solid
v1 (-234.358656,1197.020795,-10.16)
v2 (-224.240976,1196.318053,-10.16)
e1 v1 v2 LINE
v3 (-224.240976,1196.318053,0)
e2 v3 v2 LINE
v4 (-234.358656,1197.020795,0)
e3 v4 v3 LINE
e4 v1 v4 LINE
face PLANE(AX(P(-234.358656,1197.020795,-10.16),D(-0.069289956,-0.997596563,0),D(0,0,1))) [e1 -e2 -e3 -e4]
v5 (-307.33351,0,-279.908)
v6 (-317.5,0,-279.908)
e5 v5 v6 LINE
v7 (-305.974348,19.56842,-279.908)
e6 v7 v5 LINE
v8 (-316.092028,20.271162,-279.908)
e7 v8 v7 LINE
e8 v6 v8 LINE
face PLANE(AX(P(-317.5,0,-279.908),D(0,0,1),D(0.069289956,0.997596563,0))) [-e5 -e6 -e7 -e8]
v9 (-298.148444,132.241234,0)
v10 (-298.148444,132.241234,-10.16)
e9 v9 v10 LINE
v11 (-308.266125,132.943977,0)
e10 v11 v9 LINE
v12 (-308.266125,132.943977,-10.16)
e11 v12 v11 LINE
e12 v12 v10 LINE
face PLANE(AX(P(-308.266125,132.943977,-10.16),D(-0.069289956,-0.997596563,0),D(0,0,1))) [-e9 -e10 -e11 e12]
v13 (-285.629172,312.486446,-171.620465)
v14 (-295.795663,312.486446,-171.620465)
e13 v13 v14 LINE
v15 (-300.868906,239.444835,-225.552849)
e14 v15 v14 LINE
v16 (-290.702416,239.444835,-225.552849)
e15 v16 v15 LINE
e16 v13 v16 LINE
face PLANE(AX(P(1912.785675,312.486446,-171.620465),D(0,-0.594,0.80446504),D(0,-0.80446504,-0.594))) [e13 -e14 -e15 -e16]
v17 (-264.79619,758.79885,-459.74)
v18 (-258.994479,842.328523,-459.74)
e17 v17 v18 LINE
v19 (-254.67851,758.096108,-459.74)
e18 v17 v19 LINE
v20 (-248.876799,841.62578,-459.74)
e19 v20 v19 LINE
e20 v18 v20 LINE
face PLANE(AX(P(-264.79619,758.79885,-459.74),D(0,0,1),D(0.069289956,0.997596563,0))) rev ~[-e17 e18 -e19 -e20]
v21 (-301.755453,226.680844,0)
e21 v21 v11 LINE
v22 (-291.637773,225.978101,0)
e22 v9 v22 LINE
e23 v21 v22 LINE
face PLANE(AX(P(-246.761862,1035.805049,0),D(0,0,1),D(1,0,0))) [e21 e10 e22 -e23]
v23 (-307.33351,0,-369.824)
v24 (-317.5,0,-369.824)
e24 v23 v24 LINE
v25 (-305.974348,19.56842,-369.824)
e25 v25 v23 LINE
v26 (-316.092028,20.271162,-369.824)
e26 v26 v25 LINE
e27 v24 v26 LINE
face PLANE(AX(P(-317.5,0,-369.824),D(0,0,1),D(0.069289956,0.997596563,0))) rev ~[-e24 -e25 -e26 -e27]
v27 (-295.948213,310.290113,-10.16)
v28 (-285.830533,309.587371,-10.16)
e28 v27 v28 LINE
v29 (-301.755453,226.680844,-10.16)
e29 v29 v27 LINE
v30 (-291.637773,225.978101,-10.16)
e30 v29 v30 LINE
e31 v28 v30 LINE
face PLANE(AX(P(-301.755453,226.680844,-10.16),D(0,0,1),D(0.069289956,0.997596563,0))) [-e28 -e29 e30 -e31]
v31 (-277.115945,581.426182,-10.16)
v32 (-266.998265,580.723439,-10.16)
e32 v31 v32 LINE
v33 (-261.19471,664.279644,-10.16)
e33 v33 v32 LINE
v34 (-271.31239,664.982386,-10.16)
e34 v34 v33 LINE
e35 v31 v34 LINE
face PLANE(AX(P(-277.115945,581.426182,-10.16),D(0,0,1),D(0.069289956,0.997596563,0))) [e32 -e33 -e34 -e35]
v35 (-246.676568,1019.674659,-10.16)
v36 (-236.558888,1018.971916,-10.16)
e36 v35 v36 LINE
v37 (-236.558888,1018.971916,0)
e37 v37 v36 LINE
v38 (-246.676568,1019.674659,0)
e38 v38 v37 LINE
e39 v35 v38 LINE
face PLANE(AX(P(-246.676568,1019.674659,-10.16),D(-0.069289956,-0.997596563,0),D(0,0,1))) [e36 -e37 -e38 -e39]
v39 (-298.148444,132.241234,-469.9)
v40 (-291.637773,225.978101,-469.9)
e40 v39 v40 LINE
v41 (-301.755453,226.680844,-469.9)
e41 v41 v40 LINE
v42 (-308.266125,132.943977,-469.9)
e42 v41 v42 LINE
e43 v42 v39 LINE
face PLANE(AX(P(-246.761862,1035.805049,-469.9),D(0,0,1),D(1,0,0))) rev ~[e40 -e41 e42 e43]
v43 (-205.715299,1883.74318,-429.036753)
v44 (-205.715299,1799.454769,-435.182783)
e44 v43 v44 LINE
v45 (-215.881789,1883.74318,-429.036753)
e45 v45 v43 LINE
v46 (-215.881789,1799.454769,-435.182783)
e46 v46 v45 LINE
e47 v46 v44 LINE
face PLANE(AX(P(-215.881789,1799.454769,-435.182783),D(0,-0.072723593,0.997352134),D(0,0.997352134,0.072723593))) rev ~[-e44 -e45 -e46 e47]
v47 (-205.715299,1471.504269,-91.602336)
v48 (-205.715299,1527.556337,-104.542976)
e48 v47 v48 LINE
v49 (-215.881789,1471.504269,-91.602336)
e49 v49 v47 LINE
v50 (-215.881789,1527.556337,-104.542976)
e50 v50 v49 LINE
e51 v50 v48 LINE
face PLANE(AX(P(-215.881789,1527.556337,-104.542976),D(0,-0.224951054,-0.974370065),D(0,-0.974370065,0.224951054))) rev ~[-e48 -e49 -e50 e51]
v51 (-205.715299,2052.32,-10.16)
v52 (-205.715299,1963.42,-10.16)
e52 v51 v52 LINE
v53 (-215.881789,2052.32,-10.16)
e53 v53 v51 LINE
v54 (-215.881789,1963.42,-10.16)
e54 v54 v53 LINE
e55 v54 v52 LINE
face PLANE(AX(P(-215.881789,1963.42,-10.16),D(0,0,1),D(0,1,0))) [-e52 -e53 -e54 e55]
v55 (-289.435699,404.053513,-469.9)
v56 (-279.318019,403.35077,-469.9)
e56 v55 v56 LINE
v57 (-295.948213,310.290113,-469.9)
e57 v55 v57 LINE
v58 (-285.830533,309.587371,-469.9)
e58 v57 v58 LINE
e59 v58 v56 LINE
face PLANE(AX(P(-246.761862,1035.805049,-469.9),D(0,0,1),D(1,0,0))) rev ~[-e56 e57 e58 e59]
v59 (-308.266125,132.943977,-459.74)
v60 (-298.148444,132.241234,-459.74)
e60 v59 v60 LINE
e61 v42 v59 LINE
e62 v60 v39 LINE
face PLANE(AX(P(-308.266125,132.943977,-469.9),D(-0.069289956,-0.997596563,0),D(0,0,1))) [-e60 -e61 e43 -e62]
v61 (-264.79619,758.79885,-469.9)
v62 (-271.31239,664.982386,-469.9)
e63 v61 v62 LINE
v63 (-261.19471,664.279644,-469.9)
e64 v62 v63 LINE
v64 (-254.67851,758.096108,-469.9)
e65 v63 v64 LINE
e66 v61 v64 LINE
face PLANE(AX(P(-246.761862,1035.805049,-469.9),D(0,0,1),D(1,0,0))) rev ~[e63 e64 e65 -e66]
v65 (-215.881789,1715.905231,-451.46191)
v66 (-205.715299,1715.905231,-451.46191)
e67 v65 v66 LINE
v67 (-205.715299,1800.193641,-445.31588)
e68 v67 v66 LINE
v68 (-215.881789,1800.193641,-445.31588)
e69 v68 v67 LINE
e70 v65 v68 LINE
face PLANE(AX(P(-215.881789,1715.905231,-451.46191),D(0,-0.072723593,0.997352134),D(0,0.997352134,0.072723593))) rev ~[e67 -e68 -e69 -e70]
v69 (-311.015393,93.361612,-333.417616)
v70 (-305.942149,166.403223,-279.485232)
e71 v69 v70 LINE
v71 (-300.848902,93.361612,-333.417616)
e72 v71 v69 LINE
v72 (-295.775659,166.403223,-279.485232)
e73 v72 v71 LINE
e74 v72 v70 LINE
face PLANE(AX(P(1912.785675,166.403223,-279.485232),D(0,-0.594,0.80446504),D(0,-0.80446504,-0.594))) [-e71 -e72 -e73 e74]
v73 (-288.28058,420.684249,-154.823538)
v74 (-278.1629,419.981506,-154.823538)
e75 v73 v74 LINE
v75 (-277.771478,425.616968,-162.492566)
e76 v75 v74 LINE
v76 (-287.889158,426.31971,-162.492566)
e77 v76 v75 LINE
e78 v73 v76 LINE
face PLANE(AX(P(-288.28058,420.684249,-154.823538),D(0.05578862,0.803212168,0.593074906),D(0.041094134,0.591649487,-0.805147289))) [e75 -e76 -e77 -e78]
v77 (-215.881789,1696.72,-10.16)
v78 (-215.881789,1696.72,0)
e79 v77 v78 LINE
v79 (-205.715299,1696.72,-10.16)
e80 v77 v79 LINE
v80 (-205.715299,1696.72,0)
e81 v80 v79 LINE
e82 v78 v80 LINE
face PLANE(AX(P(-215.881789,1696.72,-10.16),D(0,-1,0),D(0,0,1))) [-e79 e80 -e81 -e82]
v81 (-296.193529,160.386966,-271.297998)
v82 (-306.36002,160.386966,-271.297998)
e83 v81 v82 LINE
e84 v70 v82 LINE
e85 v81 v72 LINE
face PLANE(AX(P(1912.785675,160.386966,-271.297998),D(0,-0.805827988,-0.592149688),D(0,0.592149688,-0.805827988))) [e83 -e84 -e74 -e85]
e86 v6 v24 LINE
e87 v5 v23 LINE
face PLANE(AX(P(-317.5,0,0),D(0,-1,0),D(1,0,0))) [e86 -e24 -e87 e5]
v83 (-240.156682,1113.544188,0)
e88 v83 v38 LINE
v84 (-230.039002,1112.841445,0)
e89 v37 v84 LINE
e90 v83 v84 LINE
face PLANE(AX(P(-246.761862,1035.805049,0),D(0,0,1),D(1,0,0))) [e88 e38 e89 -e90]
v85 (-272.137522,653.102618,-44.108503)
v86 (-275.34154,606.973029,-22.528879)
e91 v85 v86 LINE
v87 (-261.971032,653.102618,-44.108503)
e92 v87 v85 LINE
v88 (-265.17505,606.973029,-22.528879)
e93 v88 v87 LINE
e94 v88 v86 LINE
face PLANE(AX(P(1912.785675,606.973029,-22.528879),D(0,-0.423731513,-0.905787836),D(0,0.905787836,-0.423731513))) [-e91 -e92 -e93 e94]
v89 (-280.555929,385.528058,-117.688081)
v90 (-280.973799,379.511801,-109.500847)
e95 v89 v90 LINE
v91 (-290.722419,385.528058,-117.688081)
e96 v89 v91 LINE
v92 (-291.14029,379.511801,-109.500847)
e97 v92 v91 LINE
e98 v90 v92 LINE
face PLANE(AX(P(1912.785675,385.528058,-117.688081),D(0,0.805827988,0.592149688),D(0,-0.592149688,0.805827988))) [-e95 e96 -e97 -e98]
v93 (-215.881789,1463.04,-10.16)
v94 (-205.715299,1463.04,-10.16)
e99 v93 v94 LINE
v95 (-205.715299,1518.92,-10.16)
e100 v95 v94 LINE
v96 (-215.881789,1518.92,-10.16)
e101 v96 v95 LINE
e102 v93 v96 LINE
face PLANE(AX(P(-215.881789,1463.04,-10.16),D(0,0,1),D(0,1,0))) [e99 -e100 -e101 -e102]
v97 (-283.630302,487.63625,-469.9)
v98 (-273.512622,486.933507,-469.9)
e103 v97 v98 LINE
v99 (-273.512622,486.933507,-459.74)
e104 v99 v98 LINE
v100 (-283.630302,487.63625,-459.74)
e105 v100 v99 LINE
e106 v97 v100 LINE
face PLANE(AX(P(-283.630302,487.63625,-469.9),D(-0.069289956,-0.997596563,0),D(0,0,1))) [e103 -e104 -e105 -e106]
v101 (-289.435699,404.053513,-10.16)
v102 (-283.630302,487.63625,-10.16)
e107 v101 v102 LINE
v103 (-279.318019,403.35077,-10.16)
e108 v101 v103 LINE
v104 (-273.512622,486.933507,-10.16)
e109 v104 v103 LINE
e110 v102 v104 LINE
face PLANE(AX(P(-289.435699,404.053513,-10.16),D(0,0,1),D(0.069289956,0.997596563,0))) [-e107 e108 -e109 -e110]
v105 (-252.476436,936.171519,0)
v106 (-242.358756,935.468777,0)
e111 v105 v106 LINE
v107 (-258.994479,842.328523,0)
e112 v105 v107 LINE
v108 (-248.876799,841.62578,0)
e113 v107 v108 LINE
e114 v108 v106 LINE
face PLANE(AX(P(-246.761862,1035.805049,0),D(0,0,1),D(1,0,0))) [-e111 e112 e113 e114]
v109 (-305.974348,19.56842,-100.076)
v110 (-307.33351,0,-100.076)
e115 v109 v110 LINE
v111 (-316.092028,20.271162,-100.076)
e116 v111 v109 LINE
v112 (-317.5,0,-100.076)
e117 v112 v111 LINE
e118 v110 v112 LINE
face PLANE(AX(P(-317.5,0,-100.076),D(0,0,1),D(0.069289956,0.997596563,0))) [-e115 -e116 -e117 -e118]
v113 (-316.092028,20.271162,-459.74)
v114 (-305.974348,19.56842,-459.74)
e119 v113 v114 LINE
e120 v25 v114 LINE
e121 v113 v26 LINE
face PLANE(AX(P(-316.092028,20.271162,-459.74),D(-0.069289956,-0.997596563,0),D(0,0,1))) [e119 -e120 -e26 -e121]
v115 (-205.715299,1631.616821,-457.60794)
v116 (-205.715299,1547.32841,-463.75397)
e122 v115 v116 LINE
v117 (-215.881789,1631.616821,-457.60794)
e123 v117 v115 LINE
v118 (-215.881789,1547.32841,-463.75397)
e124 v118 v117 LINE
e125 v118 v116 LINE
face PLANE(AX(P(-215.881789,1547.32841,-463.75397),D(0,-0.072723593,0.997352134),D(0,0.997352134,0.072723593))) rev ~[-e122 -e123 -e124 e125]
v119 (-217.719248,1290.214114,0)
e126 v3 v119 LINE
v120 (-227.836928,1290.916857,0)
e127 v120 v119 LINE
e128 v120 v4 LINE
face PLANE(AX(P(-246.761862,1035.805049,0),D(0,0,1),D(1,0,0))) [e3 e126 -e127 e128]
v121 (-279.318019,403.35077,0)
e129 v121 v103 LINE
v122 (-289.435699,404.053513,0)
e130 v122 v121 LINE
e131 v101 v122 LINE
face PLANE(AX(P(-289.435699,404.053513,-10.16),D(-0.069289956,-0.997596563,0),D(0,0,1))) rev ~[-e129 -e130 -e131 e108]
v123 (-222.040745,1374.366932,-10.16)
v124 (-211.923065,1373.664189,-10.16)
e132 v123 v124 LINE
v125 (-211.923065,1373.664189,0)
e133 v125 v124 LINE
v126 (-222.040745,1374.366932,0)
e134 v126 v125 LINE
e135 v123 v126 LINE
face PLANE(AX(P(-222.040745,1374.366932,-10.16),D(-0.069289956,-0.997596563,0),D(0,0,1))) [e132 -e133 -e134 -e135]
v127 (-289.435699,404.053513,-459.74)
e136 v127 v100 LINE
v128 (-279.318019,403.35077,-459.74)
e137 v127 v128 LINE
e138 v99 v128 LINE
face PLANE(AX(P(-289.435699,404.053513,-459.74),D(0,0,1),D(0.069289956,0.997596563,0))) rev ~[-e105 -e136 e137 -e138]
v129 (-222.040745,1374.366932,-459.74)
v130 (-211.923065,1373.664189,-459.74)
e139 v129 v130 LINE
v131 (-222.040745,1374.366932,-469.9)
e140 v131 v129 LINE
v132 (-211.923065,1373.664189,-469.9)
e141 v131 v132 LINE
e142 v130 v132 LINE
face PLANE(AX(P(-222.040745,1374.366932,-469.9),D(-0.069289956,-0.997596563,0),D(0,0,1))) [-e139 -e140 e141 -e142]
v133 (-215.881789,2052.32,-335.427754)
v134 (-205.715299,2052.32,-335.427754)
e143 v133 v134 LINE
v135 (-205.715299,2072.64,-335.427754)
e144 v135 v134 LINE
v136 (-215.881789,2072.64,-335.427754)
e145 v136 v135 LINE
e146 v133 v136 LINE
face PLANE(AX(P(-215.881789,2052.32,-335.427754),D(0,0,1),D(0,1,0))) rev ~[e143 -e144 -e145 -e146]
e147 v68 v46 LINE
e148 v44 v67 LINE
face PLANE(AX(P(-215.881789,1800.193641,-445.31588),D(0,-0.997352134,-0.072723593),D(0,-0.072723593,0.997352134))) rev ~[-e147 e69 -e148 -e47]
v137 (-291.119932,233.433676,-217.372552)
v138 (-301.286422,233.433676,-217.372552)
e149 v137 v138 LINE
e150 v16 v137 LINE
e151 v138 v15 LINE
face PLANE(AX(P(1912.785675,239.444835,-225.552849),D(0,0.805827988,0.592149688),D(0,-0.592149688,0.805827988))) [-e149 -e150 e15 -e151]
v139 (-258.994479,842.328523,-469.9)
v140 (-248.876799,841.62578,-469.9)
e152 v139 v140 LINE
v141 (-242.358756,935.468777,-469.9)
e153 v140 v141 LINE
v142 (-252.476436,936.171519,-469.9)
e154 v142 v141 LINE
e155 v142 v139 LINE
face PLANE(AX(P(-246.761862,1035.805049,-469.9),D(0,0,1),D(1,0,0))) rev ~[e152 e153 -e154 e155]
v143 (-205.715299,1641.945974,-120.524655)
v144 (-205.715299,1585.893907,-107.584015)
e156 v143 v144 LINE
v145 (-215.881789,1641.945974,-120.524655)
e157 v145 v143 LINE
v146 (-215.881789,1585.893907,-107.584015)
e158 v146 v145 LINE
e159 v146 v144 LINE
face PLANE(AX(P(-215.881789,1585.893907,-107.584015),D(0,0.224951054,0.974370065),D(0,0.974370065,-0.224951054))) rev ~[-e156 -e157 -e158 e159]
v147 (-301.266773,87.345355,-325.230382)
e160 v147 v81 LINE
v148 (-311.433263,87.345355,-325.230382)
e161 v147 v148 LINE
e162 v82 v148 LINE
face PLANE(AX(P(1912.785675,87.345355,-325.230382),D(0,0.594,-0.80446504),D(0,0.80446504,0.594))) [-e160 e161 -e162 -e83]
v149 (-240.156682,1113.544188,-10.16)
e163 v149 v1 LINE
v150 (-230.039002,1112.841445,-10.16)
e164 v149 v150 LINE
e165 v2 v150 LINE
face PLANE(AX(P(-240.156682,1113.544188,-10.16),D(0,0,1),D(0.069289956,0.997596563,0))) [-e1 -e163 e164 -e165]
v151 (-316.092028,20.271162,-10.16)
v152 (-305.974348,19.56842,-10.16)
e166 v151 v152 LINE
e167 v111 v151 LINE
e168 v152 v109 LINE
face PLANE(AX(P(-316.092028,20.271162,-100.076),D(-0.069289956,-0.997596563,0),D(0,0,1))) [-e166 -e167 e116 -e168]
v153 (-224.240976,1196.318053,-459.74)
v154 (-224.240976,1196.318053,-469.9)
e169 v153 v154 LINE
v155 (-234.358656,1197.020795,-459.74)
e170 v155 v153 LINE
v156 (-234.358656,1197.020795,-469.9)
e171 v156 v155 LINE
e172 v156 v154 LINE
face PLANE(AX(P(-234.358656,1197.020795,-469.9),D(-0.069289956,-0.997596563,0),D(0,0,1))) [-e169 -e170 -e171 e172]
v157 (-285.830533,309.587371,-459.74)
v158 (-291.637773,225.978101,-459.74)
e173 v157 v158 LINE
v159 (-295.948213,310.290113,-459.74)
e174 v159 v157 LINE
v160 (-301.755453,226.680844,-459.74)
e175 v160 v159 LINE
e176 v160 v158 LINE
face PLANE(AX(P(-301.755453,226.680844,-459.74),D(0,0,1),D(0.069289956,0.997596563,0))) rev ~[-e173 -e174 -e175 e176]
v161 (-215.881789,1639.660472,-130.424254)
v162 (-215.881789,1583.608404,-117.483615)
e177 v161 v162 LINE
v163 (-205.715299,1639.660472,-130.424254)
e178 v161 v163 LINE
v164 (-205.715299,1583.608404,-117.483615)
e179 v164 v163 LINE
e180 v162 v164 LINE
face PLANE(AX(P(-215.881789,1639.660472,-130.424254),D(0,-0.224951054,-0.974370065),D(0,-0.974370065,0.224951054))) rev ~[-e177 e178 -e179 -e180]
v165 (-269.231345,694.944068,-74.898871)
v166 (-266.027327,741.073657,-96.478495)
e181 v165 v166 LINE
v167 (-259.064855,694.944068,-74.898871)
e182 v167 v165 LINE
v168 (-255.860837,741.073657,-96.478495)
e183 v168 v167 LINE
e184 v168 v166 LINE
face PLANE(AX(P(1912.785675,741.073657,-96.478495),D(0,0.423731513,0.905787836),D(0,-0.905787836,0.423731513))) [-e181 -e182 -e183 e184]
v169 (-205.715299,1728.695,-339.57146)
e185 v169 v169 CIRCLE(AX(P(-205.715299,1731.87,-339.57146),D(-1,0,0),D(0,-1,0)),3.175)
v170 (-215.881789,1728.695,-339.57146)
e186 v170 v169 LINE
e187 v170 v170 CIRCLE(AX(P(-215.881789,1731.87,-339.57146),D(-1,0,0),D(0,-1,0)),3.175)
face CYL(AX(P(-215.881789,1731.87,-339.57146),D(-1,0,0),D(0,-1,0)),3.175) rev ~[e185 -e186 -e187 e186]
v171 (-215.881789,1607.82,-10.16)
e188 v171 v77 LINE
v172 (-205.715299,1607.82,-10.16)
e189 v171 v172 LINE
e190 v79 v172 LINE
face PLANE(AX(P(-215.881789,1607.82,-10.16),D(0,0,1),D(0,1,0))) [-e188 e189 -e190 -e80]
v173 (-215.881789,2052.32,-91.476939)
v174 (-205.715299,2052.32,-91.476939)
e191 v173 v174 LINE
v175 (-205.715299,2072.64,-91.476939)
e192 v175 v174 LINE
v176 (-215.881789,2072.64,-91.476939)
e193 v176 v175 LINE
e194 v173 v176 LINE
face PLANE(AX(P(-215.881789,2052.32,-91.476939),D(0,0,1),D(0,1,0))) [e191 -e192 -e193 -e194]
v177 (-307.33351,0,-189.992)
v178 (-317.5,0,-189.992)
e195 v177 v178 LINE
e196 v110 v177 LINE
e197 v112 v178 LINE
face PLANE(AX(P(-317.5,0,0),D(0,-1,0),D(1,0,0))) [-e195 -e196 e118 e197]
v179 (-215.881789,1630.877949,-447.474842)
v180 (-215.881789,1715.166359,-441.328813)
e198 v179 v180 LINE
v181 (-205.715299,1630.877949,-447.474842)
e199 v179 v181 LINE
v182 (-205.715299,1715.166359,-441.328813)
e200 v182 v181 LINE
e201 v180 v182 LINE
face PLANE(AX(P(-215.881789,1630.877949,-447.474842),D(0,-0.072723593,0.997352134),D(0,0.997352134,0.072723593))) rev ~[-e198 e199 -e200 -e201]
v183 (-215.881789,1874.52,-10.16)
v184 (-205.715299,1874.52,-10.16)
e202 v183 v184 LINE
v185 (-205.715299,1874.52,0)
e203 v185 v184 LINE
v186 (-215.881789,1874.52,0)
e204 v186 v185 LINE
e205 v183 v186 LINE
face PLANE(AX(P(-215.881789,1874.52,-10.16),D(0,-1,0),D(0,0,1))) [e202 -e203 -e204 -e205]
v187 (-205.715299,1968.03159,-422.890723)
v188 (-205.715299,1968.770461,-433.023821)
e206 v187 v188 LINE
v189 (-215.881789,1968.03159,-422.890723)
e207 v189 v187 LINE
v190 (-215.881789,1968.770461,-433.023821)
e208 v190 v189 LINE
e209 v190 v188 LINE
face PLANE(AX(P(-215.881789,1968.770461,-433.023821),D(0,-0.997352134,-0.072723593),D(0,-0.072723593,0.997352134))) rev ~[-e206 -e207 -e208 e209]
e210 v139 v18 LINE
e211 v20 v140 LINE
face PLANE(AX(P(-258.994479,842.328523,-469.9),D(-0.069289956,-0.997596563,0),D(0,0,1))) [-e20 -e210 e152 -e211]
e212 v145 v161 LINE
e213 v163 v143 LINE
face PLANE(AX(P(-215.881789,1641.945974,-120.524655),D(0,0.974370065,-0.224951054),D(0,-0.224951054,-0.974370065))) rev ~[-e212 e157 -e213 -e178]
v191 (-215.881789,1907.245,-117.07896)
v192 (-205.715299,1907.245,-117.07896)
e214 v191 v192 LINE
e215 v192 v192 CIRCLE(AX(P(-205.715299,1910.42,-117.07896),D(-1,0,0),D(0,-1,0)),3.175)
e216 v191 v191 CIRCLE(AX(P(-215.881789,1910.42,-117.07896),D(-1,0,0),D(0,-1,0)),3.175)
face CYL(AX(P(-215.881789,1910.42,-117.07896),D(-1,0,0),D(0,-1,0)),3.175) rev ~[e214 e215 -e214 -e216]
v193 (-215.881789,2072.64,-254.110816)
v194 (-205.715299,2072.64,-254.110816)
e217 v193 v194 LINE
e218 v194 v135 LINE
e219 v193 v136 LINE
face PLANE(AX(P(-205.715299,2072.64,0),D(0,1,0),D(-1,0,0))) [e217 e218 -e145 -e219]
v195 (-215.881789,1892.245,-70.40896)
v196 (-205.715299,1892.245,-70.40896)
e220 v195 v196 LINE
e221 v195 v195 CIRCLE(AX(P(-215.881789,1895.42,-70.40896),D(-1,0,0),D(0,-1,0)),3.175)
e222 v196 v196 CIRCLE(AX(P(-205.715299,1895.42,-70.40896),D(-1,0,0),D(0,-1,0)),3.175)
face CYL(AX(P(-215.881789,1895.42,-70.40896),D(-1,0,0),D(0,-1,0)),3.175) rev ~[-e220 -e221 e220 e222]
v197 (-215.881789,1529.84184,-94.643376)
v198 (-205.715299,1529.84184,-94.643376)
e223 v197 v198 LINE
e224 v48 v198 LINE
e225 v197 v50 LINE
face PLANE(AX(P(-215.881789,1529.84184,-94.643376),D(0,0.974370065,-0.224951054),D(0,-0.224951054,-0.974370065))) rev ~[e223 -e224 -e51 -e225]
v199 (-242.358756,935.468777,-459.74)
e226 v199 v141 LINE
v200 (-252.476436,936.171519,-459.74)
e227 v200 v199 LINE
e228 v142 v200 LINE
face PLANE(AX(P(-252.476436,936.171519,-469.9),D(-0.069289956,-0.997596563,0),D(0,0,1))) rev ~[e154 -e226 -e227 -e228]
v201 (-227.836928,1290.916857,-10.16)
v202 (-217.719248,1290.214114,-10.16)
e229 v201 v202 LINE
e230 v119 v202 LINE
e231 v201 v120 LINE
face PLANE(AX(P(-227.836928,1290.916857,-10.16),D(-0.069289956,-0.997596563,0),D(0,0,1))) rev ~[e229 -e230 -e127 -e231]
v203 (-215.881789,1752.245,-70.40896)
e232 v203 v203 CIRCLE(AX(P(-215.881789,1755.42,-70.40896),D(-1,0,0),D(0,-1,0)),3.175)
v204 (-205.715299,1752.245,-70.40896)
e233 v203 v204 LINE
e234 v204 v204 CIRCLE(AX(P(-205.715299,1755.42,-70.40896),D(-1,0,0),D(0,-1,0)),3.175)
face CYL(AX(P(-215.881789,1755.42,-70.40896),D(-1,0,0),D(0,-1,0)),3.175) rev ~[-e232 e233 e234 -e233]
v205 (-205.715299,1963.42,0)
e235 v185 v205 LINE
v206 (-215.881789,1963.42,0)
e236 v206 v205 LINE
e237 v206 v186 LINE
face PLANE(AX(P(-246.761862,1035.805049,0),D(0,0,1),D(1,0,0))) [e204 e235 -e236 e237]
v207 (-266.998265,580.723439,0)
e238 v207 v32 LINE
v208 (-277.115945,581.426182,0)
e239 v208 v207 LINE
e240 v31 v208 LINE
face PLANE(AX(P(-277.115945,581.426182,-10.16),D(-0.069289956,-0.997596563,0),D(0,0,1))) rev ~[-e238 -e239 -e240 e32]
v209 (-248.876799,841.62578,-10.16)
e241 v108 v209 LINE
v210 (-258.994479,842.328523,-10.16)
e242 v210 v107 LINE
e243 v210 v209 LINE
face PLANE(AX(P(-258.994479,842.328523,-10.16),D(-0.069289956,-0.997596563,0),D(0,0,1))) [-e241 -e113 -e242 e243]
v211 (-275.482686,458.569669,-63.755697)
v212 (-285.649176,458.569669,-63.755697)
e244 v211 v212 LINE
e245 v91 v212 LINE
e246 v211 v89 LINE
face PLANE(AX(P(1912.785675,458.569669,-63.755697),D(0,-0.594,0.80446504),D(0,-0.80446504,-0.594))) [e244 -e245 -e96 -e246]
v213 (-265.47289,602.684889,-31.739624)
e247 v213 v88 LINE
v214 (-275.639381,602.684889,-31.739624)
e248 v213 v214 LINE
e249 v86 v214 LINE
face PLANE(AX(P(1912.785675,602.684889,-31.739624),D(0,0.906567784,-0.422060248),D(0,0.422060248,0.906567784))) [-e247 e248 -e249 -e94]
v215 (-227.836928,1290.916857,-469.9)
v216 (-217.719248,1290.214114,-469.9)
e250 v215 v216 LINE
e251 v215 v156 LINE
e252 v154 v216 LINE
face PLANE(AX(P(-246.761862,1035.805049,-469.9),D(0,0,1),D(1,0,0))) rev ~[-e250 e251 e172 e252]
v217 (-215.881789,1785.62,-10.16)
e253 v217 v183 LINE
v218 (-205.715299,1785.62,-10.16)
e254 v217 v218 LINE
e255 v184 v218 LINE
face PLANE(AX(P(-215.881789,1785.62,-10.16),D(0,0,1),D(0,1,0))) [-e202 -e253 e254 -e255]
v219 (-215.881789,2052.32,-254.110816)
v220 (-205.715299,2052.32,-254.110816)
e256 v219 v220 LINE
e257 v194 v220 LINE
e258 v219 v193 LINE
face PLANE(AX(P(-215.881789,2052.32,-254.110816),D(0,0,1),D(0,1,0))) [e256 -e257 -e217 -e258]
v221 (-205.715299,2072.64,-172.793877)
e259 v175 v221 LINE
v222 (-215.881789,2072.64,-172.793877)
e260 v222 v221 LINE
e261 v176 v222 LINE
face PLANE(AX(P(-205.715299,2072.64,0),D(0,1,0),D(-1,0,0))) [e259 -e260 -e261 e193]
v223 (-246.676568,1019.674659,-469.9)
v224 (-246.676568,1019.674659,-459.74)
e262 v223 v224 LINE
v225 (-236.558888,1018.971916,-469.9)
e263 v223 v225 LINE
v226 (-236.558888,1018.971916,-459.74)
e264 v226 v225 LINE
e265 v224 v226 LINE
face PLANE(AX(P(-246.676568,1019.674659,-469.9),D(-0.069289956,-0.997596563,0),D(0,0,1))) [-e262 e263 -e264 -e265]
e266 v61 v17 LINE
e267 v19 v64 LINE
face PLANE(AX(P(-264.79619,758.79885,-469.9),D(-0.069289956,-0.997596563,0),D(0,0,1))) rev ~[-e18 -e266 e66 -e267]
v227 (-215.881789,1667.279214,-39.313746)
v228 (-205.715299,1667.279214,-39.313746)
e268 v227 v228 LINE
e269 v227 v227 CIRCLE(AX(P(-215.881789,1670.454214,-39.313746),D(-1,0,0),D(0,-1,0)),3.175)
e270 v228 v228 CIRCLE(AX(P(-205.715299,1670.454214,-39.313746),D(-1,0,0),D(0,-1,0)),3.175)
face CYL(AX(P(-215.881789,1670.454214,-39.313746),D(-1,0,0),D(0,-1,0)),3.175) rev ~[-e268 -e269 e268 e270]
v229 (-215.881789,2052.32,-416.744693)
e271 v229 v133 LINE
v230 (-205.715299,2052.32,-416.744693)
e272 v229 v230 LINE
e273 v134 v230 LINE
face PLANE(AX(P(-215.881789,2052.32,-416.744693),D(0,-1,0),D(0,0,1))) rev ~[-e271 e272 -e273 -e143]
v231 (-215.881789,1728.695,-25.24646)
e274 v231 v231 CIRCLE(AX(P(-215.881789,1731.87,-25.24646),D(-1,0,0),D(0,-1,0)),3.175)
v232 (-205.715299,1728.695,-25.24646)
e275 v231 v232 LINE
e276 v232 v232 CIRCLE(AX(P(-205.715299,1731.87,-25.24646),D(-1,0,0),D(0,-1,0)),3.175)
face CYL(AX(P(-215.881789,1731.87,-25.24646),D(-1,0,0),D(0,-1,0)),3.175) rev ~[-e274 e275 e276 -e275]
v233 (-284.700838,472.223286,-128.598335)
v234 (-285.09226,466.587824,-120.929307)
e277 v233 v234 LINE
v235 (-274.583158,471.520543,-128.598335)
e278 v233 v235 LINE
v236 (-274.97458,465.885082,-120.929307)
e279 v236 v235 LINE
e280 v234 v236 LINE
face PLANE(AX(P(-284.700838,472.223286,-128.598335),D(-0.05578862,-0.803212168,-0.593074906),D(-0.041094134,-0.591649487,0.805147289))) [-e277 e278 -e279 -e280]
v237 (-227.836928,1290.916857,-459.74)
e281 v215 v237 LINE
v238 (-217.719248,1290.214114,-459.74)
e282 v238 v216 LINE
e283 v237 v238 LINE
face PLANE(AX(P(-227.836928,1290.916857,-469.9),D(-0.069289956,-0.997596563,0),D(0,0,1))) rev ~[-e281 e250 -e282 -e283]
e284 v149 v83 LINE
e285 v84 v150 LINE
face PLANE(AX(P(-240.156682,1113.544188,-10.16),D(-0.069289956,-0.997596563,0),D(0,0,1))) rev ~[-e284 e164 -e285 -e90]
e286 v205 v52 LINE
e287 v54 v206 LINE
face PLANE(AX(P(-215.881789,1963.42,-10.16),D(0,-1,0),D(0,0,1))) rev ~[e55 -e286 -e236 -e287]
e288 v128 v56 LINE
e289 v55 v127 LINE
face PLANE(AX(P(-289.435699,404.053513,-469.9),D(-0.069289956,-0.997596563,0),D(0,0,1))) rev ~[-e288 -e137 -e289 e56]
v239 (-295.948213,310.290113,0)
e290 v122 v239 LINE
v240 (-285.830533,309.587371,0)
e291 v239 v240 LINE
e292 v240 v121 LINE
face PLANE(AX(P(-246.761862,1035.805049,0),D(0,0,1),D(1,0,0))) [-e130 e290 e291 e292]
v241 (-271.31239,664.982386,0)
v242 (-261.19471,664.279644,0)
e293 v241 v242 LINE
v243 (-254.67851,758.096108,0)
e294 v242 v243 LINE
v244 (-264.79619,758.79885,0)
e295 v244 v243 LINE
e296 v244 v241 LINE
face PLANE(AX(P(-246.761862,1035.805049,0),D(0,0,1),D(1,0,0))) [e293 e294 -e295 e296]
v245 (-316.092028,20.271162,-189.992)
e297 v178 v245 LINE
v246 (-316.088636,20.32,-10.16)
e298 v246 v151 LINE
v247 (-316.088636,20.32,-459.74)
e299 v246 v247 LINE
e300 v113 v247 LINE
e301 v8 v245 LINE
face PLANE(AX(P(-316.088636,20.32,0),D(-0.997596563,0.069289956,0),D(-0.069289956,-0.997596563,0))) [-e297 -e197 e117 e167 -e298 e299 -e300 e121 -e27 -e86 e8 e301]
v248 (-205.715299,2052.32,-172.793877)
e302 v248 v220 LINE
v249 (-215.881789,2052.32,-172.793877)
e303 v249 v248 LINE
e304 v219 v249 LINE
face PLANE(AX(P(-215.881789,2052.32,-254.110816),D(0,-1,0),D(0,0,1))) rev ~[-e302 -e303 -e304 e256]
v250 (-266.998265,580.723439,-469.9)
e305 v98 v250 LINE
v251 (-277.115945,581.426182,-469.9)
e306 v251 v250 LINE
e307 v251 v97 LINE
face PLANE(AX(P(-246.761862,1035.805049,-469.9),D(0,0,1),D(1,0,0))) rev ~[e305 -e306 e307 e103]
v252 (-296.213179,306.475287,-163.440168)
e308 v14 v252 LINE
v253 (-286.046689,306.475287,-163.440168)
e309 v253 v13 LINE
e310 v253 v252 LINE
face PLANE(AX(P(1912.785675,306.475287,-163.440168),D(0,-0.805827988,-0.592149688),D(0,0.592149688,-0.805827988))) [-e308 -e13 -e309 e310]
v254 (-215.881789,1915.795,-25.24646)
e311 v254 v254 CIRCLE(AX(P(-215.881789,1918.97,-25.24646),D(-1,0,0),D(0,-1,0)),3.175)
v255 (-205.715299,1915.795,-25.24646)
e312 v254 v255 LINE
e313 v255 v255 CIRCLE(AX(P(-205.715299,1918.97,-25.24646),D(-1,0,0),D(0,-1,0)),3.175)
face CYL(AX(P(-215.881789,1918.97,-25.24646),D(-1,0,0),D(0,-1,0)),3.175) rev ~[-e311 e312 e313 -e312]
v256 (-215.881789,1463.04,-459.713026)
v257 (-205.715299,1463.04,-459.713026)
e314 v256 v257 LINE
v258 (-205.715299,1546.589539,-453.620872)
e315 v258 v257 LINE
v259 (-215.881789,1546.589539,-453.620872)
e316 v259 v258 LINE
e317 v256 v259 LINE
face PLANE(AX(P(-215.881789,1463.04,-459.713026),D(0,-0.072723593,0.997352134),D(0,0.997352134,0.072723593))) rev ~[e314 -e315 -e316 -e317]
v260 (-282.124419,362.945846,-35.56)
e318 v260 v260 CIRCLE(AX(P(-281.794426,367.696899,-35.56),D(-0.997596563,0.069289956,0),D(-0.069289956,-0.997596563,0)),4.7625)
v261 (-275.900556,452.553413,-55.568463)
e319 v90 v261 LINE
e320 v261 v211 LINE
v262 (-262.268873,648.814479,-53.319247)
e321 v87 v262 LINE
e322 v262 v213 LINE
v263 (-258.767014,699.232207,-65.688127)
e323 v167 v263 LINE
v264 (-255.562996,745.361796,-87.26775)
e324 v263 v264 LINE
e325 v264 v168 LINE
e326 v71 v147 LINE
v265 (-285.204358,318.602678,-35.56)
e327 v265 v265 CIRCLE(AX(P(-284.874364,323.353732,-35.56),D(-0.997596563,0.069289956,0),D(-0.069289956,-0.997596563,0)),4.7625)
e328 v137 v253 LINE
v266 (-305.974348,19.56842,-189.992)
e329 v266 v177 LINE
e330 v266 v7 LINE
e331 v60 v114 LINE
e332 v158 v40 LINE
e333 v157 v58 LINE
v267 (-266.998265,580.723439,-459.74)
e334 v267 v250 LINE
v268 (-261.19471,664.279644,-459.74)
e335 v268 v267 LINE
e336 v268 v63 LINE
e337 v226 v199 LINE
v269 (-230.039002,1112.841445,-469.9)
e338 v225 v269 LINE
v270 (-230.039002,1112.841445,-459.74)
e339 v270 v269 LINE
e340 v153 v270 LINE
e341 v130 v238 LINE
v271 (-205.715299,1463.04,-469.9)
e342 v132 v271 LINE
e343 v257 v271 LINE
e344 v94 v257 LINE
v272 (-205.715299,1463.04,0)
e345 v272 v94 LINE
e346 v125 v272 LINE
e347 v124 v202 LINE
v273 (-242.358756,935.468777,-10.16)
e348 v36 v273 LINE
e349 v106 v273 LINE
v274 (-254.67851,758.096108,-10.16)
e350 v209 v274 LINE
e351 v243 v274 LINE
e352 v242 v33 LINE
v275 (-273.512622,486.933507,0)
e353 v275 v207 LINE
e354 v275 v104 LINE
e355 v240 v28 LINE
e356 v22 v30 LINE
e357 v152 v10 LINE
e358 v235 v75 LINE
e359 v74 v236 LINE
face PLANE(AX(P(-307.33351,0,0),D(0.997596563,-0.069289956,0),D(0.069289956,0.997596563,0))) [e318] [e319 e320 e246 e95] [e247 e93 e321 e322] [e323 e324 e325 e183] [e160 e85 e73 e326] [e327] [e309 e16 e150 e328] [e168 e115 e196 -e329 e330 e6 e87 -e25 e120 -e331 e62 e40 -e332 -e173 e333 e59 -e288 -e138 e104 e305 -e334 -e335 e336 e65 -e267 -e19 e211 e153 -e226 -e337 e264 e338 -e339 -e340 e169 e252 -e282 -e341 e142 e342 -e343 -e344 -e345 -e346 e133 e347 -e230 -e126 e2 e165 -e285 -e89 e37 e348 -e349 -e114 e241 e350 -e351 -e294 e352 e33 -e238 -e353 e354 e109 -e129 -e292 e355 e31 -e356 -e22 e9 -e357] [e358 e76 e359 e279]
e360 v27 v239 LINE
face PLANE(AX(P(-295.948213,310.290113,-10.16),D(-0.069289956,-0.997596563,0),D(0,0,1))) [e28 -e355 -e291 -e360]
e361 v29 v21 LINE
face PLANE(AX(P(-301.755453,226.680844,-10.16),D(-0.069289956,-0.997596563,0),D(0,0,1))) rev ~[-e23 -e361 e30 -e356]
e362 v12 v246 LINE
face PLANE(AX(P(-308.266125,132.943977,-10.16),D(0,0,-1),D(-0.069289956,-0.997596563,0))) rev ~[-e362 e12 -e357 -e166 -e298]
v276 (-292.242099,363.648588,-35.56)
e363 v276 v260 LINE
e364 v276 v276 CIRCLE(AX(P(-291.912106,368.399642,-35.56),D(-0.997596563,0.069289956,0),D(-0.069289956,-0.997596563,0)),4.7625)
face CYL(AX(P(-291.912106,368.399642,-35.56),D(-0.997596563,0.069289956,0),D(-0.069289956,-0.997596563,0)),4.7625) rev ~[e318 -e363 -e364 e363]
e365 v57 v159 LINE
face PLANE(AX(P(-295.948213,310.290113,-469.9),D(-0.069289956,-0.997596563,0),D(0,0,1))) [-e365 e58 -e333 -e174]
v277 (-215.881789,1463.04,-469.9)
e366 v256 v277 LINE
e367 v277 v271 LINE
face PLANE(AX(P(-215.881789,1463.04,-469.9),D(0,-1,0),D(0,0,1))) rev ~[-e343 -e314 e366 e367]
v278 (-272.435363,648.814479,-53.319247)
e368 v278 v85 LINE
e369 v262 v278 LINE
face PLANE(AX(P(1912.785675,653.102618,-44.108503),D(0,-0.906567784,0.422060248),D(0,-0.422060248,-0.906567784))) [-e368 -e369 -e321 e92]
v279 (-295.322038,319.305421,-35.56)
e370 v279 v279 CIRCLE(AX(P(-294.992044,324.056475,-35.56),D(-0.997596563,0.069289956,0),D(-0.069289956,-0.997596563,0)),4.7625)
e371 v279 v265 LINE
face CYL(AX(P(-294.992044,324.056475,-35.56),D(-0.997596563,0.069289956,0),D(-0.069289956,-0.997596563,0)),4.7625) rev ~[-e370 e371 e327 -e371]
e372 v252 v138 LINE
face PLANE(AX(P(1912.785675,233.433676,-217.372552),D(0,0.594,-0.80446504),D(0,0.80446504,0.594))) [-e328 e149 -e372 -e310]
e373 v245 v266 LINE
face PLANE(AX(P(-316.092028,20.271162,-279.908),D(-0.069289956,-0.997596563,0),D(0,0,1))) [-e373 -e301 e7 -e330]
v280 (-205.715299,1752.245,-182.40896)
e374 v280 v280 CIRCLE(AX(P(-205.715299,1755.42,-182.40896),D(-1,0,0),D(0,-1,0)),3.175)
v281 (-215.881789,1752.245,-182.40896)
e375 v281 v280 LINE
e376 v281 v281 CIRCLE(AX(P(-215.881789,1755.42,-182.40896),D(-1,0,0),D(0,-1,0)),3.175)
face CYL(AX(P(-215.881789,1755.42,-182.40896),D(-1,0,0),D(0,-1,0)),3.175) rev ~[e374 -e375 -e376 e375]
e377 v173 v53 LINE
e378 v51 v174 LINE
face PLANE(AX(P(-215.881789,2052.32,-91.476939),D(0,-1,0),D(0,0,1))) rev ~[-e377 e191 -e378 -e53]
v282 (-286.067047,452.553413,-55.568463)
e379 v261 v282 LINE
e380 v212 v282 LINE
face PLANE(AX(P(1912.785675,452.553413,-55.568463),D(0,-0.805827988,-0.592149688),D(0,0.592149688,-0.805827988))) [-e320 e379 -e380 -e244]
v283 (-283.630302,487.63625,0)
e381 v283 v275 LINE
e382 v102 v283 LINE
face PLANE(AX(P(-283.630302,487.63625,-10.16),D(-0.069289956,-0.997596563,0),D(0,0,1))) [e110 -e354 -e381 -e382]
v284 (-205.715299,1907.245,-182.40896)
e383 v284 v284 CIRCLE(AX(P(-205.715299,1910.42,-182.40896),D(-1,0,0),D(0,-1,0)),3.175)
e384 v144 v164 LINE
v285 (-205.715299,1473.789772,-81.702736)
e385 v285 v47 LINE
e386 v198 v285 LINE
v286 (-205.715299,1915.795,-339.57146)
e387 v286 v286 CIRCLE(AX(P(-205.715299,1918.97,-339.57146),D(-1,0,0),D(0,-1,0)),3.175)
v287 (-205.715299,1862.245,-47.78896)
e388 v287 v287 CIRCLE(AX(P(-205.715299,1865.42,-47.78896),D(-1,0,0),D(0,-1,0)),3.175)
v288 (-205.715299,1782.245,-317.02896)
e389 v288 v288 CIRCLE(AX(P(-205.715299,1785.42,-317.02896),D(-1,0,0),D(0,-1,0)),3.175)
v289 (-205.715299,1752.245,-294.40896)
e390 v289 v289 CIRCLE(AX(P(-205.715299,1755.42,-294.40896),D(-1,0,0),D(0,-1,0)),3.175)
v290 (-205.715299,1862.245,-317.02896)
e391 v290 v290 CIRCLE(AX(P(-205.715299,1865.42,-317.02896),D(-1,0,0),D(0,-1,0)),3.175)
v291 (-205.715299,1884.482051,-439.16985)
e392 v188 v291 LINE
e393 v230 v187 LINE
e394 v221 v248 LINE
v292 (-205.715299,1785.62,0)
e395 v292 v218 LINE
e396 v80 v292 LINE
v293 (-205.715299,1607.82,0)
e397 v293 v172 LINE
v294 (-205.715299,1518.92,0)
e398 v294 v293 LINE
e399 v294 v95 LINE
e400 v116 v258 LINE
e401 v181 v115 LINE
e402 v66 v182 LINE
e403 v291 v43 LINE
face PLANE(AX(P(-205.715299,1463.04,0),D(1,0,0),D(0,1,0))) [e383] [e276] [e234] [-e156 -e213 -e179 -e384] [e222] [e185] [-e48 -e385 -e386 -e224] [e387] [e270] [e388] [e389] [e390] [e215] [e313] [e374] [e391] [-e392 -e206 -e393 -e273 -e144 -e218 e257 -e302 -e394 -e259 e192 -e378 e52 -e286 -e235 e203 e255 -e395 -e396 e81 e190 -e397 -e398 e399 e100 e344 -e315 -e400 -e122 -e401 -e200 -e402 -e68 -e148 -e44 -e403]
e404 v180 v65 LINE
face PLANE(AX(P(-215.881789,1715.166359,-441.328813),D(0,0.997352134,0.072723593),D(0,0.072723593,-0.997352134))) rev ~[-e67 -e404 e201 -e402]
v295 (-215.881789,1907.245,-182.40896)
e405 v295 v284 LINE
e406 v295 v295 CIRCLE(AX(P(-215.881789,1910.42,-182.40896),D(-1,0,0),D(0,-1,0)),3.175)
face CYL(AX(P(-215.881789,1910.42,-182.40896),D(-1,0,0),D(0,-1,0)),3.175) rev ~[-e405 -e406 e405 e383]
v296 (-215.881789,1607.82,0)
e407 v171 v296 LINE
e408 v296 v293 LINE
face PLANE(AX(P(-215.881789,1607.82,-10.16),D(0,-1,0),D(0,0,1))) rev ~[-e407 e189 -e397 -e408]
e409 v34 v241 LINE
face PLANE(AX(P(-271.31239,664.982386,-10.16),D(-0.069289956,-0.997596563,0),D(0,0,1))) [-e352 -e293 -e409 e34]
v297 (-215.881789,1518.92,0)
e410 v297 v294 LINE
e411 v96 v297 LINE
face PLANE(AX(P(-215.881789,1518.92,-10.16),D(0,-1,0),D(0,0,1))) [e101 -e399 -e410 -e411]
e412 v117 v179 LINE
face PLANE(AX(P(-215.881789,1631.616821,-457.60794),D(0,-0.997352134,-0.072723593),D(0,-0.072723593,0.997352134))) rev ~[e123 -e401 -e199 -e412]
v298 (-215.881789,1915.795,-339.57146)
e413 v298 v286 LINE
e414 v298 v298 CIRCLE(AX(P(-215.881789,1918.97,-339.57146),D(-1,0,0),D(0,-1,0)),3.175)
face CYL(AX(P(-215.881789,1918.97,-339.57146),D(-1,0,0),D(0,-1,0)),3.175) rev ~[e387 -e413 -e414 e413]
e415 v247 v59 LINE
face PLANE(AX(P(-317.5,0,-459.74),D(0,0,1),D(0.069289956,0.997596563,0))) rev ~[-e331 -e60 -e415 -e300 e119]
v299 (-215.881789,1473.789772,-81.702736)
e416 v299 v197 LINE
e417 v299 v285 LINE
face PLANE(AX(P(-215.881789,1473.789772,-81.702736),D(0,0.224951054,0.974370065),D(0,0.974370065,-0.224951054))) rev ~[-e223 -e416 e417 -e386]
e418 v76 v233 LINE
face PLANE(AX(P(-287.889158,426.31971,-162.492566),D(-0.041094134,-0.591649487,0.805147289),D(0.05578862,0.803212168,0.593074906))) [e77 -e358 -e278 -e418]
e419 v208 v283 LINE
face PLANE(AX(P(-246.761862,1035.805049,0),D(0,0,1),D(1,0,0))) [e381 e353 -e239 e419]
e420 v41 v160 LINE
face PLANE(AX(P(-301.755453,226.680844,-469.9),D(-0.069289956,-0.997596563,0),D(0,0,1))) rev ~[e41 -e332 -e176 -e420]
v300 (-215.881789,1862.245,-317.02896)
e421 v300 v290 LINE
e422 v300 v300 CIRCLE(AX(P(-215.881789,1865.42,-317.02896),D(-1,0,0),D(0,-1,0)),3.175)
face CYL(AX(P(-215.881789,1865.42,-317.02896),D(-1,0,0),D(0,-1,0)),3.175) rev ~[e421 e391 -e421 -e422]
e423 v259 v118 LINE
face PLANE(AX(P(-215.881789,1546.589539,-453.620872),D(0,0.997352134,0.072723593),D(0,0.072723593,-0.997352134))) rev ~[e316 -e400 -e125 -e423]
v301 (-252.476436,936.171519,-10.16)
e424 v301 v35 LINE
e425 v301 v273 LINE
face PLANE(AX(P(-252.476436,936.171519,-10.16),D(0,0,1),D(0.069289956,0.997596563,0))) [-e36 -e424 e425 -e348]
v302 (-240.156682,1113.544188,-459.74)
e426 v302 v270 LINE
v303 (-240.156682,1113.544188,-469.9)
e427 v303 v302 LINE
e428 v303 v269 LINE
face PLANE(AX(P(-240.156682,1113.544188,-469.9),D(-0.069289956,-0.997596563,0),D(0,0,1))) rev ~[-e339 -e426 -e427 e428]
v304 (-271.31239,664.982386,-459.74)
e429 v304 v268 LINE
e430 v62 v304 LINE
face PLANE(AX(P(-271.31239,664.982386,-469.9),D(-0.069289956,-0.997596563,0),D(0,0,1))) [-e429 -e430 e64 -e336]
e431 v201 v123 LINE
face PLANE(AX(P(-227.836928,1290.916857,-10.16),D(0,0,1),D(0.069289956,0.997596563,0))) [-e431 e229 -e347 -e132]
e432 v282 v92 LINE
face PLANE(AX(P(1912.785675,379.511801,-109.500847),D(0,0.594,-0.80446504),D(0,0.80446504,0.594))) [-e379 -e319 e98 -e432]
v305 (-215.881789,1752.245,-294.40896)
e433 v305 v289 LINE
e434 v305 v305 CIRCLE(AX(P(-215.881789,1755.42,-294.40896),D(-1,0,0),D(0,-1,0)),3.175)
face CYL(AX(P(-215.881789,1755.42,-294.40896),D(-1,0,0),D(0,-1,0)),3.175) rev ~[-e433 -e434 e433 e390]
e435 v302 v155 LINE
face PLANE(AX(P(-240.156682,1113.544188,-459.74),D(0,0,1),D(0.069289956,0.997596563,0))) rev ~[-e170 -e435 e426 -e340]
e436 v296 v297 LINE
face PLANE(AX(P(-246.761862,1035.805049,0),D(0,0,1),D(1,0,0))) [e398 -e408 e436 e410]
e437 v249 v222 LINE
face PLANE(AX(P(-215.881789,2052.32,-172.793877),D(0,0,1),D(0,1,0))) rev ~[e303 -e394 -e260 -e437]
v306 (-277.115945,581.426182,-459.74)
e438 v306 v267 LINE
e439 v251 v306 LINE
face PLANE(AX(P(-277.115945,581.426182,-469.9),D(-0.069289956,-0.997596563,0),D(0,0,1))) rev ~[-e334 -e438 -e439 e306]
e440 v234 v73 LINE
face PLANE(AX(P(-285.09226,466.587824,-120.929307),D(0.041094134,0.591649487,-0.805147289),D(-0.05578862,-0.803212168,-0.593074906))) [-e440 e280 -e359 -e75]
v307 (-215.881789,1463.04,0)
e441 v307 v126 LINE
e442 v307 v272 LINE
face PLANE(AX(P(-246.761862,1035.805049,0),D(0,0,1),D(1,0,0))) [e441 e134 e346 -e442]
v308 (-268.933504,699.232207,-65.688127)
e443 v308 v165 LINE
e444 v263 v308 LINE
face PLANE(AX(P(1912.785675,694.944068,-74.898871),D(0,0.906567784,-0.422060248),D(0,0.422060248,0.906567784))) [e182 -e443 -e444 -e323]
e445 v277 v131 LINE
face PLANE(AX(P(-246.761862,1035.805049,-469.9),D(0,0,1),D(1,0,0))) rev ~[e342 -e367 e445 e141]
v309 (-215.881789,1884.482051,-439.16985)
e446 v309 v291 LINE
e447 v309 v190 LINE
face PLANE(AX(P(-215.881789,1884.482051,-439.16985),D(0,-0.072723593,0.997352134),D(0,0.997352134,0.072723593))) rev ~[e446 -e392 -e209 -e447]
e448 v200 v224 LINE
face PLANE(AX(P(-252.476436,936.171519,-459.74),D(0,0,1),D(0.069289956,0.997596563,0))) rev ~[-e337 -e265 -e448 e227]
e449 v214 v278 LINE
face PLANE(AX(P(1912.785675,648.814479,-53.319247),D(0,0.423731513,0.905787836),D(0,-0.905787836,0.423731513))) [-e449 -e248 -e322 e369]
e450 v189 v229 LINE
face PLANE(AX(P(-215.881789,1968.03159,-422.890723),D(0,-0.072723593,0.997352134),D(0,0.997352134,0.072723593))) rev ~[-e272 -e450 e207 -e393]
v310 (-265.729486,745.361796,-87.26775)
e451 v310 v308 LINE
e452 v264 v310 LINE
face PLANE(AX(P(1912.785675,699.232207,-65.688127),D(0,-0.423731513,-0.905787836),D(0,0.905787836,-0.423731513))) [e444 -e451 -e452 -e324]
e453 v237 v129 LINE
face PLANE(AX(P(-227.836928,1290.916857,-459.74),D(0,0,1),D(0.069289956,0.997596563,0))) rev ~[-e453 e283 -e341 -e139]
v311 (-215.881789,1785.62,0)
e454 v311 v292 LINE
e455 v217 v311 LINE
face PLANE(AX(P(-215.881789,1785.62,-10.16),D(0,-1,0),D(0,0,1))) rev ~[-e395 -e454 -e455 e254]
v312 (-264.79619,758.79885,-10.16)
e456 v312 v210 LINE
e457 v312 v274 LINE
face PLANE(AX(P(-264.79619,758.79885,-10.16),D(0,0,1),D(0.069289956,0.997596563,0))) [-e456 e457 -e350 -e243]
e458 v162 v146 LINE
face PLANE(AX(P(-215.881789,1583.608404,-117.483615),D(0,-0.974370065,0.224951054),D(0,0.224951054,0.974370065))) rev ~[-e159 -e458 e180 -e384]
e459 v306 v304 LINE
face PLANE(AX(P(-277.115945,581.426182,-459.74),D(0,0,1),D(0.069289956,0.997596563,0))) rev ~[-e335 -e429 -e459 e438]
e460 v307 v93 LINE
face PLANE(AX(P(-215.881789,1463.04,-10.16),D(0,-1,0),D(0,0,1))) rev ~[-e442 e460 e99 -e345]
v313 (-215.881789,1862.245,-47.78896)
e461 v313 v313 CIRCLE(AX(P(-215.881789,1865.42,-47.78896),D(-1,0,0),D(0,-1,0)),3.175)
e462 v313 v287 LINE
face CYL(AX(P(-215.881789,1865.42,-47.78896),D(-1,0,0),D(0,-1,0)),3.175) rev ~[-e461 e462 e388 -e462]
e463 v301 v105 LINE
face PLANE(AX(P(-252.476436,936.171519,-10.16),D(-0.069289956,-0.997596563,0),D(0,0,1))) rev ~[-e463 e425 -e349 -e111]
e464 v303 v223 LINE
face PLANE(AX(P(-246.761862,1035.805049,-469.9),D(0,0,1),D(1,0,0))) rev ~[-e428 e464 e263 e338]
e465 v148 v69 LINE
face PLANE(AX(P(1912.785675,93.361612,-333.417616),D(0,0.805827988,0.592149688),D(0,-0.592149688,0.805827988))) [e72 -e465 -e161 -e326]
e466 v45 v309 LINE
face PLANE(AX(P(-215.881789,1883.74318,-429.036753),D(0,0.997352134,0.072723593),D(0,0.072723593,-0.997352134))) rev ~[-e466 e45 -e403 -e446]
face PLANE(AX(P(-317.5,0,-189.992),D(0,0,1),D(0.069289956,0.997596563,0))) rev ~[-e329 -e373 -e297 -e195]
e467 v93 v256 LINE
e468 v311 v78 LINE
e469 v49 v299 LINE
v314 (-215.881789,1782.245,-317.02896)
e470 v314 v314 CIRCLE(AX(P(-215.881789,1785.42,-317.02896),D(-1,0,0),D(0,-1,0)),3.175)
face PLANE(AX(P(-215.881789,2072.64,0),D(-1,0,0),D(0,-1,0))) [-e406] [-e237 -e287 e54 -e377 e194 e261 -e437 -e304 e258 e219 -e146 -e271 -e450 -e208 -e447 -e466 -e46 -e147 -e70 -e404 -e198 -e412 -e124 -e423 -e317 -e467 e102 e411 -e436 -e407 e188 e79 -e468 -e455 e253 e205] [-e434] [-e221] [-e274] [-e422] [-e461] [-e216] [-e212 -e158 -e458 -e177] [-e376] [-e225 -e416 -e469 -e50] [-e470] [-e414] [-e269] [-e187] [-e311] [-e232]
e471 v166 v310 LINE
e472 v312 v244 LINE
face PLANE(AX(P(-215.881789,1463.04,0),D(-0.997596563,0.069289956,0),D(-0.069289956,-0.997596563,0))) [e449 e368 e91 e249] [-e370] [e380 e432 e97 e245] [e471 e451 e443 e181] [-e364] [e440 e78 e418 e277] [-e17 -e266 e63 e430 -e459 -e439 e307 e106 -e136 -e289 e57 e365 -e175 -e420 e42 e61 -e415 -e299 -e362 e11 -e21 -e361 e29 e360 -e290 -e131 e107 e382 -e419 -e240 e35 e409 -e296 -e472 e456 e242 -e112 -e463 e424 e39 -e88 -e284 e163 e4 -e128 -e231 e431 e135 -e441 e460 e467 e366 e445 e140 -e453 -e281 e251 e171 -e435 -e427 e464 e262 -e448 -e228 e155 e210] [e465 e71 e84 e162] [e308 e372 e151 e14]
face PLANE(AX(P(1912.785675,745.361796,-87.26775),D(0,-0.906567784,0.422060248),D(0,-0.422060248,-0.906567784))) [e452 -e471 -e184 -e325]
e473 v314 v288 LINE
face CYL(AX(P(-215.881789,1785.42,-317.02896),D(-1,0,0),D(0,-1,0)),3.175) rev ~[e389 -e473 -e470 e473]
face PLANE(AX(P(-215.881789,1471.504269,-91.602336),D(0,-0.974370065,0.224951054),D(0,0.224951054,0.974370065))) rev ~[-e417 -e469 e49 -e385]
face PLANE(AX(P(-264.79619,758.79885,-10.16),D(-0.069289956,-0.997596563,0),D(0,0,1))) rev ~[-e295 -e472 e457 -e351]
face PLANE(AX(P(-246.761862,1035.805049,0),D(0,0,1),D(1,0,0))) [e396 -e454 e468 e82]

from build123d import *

# Parameters (mm, degrees)
BOSS_EXTRUDE1_DEPTH      = 469.9
SKETCH2_W                = 10.16
SKETCH2_H                = 83.651125112
SKETCH2_H_2              = 83.677721465
SKETCH2_H_3              = 83.704317819
SKETCH2_H_4              = 83.730914172
SKETCH2_H_5              = 83.757510526
SKETCH2_H_6              = 83.784106879
SKETCH2_H_7              = 83.810703233
SKETCH2_H_8              = 133.264269193
CUT_EXTRUDE1_DEPTH       = 10.16
SKETCH3_W                = 10.16
SKETCH3_H                = 55.879999965
SKETCH3_H_2              = 88.9
SKETCH3_H_3              = 109.22
CUT_EXTRUDE2_DEPTH       = 12.7
SKETCH4_W                = 81.316938584
SKETCH4_H                = 20.32
SKETCH4_W_2              = 81.316938585
CUT_EXTRUDE3_DEPTH       = 12.7
SKETCH5_W                = 89.916
SKETCH5_H                = 20.32
CUT_EXTRUDE4_DEPTH       = 12.7
SKETCH13_R               = 3.175
CUT_EXTRUDE8_DEPTH       = 2128.667464702
CUT_EXTRUDE9_DEPTH       = 2128.667464702
SKETCH20_R               = 4.7625
CUT_EXTRUDE10_DEPTH      = 2107.728843747
SKETCH24_R               = 3.175
CUT_EXTRUDE12_DEPTH      = 12.7
CUT_EXTRUDE13_DEPTH      = 2128.667464702
CUT_EXTRUDE13_DEPTH_BACK = 2128.667464702


with BuildPart() as part:
    # Sketch1 → Boss-Extrude1 (new body)
    with BuildSketch(Plane.XY):
        Polygon((-215.881789204, 2052.32), (-215.881789204, 1463.040000035), (-316.088635901, 20.32), (-317.499999939, 0), (-307.333509538, 0), (-205.715298803, 1463.040000035), (-205.715298803, 2072.64), (-215.881789204, 2072.64), align=None)
    extrude(amount=-BOSS_EXTRUDE1_DEPTH)

    # Sketch2 → Cut-Extrude1 (cut)
    with BuildSketch(Plane(origin=(-315.975651309, 21.946686571, 0), x_dir=(0, 0, 1), z_dir=(-0.9975965627192115, 0.06928995634877068, 0))):
        with Locations((-464.82, 1313.852971026)):
            Rectangle(SKETCH2_W, SKETCH2_H)
        with Locations((-464.82, 1136.066269203)):
            Rectangle(SKETCH2_W, SKETCH2_H_2)
        with Locations((-464.82, 958.27956738)):
            Rectangle(SKETCH2_W, SKETCH2_H_3)
        with Locations((-464.82, 780.492865556)):
            Rectangle(SKETCH2_W, SKETCH2_H_4)
        with Locations((-464.82, 602.706163733)):
            Rectangle(SKETCH2_W, SKETCH2_H_5)
        with Locations((-464.82, 424.91946191)):
            Rectangle(SKETCH2_W, SKETCH2_H_6)
        with Locations((-464.82, 247.132760087)):
            Rectangle(SKETCH2_W, SKETCH2_H_7)
        with Locations((-464.82, 44.63257346)):
            Rectangle(SKETCH2_W, SKETCH2_H_8)
        with Locations((-5.08, 44.63257346)):
            Rectangle(SKETCH2_W, SKETCH2_H_8)
        with Locations((-5.08, 247.132760087)):
            Rectangle(SKETCH2_W, SKETCH2_H_7)
        with Locations((-5.08, 424.91946191)):
            Rectangle(SKETCH2_W, SKETCH2_H_6)
        with Locations((-5.08, 602.706163733)):
            Rectangle(SKETCH2_W, SKETCH2_H_5)
        with Locations((-5.08, 780.492865556)):
            Rectangle(SKETCH2_W, SKETCH2_H_4)
        with Locations((-5.08, 958.27956738)):
            Rectangle(SKETCH2_W, SKETCH2_H_3)
        with Locations((-5.08, 1136.066269203)):
            Rectangle(SKETCH2_W, SKETCH2_H_2)
        with Locations((-5.08, 1313.852971026)):
            Rectangle(SKETCH2_W, SKETCH2_H)
    extrude(amount=-CUT_EXTRUDE1_DEPTH, mode=Mode.SUBTRACT)

    # Sketch3 → Cut-Extrude2 (cut)
    with BuildSketch(Plane.ZY.offset(215.881789204)):
        with Locations((-5.08, 1490.980000018)):
            Rectangle(SKETCH3_W, SKETCH3_H)
        with Locations((-5.08, 1652.27)):
            Rectangle(SKETCH3_W, SKETCH3_H_2)
        Polygon((-469.9, 1463.040000035), (-459.713026258, 1463.040000035), (-453.620872406, 1546.589538567), (-463.753970086, 1547.328410273), (-457.607940173, 1631.616820512), (-447.474842492, 1630.877948806), (-441.328812579, 1715.166359045), (-451.461910259, 1715.905230751), (-445.315880346, 1800.19364099), (-435.182782665, 1799.454769284), (-429.036752752, 1883.743179522), (-439.169850432, 1884.482051228), (-433.023820518, 1968.770461467), (-422.890722838, 1968.031589761), (-415.263026258, 2072.64), (-469.9, 2072.64), align=None)
        with Locations((-5.08, 1830.07)):
            Rectangle(SKETCH3_W, SKETCH3_H_2)
        with Locations((-5.08, 2018.03)):
            Rectangle(SKETCH3_W, SKETCH3_H_3)
    extrude(amount=-CUT_EXTRUDE2_DEPTH, mode=Mode.SUBTRACT)

    # Sketch4 → Cut-Extrude3 (cut)
    with BuildSketch(Plane.ZY.offset(215.881789204)):
        with Locations((-376.086223632, 2062.48)):
            Rectangle(SKETCH4_W, SKETCH4_H)
        with Locations((-213.452346463, 2062.48)):
            Rectangle(SKETCH4_W_2, SKETCH4_H)
        with Locations((-50.818469292, 2062.48)):
            Rectangle(SKETCH4_W_2, SKETCH4_H)
    extrude(amount=-CUT_EXTRUDE3_DEPTH, mode=Mode.SUBTRACT)

    # Sketch5 → Cut-Extrude4 (cut)
    with BuildSketch(Plane(origin=(-315.975651309, 21.946686571, 0), x_dir=(0, 0, 1), z_dir=(-0.9975965627192115, 0.06928995634877068, 0))):
        with Locations((-414.782, -11.839561137)):
            Rectangle(SKETCH5_W, SKETCH5_H)
        with Locations((-234.95, -11.839561137)):
            Rectangle(SKETCH5_W, SKETCH5_H)
        with Locations((-55.118, -11.839561137)):
            Rectangle(SKETCH5_W, SKETCH5_H)
    extrude(amount=-CUT_EXTRUDE4_DEPTH, mode=Mode.SUBTRACT)

    # Sketch13 → Cut-Extrude8 (cut, through all)
    with BuildSketch(Plane.ZY.offset(215.881789204)):
        with Locations((-25.246459893, 1731.87)):
            Circle(SKETCH13_R)
        with Locations((-70.408959893, 1755.42)):
            Circle(SKETCH13_R)
        with Locations((-182.408959893, 1755.42)):
            Circle(SKETCH13_R)
        with Locations((-25.246459893, 1918.97)):
            Circle(SKETCH13_R)
        with Locations((-47.788959893, 1865.42)):
            Circle(SKETCH13_R)
        with Locations((-182.408959893, 1910.42)):
            Circle(SKETCH13_R)
        with Locations((-117.078959893, 1910.42)):
            Circle(SKETCH13_R)
        with Locations((-70.408959893, 1895.42)):
            Circle(SKETCH13_R)
        with Locations((-317.028959893, 1865.42)):
            Circle(SKETCH13_R)
        with Locations((-294.408959893, 1755.42)):
            Circle(SKETCH13_R)
        with Locations((-317.028959893, 1785.42)):
            Circle(SKETCH13_R)
        with Locations((-339.571459893, 1731.87)):
            Circle(SKETCH13_R)
        with Locations((-339.571459893, 1918.97)):
            Circle(SKETCH13_R)
    extrude(amount=-CUT_EXTRUDE8_DEPTH, mode=Mode.SUBTRACT)

    # Sketch17 → Cut-Extrude9 (cut, through all)
    with BuildSketch(Plane.ZY.offset(215.881789204)):
        Polygon((-120.524654614, 1641.945974367), (-130.424254473, 1639.660471655), (-117.483615058, 1583.608404231), (-107.584015199, 1585.893906943), align=None)
        Polygon((-94.643375784, 1529.841839519), (-104.542975642, 1527.556336807), (-91.602336227, 1471.504269383), (-81.702736369, 1473.789772095), align=None)
    extrude(amount=-CUT_EXTRUDE9_DEPTH, mode=Mode.SUBTRACT)

    # Sketch20 → Cut-Extrude10 (cut, through all)
    with BuildSketch(Plane(origin=(-315.975651309, 21.946686571, 0), x_dir=(0, 0, 1), z_dir=(-0.9975965627192116, 0.06928995634876853, 0))):
        Polygon((-128.598334701, 451.361418049), (-162.492565561, 405.347250509), (-154.823537638, 399.698212032), (-120.929306778, 445.712379572), align=None)
        with Locations((-35.56, 347.287639338)):
            Circle(SKETCH20_R)
        with Locations((-35.56, 302.837639338)):
            Circle(SKETCH20_R)
    extrude(amount=-CUT_EXTRUDE10_DEPTH, mode=Mode.SUBTRACT)

    # Sketch24 → Cut-Extrude12 (cut)
    with BuildSketch(Plane.ZY.offset(215.881789204)):
        with Locations((-39.313746491, 1670.454214013)):
            Circle(SKETCH24_R)
    extrude(amount=-CUT_EXTRUDE12_DEPTH, mode=Mode.SUBTRACT)

    # Sketch26 → Cut-Extrude13 (cut, two sides: drawn at the far end of the back side and taken through both)
    with BuildSketch(Plane.ZY.offset(215.881789204).offset(-CUT_EXTRUDE13_DEPTH_BACK)):
        Polygon((-96.478494721, 741.073656933), (-74.89887104, 694.944067742), (-65.68812669, 699.232207156), (-87.26775037, 745.361796346), align=None)
        Polygon((-31.73962368, 602.684889361), (-22.52887933, 606.973028774), (-44.10850301, 653.102617965), (-53.31924736, 648.814478552), align=None)
        Polygon((-63.755697238, 458.569669358), (-117.688081031, 385.528057798), (-109.500847052, 379.511801077), (-55.568463259, 452.553412636), align=None)
        Polygon((-333.417616206, 93.36161156), (-325.230382227, 87.345354838), (-271.297998434, 160.386966398), (-279.485232413, 166.403223119), align=None)
        Polygon((-225.552848619, 239.444834679), (-217.372552167, 233.433675887), (-163.440168374, 306.475287447), (-171.620464825, 312.486446238), align=None)
    extrude(amount=CUT_EXTRUDE13_DEPTH + CUT_EXTRUDE13_DEPTH_BACK, mode=Mode.SUBTRACT)


solid = part.part
